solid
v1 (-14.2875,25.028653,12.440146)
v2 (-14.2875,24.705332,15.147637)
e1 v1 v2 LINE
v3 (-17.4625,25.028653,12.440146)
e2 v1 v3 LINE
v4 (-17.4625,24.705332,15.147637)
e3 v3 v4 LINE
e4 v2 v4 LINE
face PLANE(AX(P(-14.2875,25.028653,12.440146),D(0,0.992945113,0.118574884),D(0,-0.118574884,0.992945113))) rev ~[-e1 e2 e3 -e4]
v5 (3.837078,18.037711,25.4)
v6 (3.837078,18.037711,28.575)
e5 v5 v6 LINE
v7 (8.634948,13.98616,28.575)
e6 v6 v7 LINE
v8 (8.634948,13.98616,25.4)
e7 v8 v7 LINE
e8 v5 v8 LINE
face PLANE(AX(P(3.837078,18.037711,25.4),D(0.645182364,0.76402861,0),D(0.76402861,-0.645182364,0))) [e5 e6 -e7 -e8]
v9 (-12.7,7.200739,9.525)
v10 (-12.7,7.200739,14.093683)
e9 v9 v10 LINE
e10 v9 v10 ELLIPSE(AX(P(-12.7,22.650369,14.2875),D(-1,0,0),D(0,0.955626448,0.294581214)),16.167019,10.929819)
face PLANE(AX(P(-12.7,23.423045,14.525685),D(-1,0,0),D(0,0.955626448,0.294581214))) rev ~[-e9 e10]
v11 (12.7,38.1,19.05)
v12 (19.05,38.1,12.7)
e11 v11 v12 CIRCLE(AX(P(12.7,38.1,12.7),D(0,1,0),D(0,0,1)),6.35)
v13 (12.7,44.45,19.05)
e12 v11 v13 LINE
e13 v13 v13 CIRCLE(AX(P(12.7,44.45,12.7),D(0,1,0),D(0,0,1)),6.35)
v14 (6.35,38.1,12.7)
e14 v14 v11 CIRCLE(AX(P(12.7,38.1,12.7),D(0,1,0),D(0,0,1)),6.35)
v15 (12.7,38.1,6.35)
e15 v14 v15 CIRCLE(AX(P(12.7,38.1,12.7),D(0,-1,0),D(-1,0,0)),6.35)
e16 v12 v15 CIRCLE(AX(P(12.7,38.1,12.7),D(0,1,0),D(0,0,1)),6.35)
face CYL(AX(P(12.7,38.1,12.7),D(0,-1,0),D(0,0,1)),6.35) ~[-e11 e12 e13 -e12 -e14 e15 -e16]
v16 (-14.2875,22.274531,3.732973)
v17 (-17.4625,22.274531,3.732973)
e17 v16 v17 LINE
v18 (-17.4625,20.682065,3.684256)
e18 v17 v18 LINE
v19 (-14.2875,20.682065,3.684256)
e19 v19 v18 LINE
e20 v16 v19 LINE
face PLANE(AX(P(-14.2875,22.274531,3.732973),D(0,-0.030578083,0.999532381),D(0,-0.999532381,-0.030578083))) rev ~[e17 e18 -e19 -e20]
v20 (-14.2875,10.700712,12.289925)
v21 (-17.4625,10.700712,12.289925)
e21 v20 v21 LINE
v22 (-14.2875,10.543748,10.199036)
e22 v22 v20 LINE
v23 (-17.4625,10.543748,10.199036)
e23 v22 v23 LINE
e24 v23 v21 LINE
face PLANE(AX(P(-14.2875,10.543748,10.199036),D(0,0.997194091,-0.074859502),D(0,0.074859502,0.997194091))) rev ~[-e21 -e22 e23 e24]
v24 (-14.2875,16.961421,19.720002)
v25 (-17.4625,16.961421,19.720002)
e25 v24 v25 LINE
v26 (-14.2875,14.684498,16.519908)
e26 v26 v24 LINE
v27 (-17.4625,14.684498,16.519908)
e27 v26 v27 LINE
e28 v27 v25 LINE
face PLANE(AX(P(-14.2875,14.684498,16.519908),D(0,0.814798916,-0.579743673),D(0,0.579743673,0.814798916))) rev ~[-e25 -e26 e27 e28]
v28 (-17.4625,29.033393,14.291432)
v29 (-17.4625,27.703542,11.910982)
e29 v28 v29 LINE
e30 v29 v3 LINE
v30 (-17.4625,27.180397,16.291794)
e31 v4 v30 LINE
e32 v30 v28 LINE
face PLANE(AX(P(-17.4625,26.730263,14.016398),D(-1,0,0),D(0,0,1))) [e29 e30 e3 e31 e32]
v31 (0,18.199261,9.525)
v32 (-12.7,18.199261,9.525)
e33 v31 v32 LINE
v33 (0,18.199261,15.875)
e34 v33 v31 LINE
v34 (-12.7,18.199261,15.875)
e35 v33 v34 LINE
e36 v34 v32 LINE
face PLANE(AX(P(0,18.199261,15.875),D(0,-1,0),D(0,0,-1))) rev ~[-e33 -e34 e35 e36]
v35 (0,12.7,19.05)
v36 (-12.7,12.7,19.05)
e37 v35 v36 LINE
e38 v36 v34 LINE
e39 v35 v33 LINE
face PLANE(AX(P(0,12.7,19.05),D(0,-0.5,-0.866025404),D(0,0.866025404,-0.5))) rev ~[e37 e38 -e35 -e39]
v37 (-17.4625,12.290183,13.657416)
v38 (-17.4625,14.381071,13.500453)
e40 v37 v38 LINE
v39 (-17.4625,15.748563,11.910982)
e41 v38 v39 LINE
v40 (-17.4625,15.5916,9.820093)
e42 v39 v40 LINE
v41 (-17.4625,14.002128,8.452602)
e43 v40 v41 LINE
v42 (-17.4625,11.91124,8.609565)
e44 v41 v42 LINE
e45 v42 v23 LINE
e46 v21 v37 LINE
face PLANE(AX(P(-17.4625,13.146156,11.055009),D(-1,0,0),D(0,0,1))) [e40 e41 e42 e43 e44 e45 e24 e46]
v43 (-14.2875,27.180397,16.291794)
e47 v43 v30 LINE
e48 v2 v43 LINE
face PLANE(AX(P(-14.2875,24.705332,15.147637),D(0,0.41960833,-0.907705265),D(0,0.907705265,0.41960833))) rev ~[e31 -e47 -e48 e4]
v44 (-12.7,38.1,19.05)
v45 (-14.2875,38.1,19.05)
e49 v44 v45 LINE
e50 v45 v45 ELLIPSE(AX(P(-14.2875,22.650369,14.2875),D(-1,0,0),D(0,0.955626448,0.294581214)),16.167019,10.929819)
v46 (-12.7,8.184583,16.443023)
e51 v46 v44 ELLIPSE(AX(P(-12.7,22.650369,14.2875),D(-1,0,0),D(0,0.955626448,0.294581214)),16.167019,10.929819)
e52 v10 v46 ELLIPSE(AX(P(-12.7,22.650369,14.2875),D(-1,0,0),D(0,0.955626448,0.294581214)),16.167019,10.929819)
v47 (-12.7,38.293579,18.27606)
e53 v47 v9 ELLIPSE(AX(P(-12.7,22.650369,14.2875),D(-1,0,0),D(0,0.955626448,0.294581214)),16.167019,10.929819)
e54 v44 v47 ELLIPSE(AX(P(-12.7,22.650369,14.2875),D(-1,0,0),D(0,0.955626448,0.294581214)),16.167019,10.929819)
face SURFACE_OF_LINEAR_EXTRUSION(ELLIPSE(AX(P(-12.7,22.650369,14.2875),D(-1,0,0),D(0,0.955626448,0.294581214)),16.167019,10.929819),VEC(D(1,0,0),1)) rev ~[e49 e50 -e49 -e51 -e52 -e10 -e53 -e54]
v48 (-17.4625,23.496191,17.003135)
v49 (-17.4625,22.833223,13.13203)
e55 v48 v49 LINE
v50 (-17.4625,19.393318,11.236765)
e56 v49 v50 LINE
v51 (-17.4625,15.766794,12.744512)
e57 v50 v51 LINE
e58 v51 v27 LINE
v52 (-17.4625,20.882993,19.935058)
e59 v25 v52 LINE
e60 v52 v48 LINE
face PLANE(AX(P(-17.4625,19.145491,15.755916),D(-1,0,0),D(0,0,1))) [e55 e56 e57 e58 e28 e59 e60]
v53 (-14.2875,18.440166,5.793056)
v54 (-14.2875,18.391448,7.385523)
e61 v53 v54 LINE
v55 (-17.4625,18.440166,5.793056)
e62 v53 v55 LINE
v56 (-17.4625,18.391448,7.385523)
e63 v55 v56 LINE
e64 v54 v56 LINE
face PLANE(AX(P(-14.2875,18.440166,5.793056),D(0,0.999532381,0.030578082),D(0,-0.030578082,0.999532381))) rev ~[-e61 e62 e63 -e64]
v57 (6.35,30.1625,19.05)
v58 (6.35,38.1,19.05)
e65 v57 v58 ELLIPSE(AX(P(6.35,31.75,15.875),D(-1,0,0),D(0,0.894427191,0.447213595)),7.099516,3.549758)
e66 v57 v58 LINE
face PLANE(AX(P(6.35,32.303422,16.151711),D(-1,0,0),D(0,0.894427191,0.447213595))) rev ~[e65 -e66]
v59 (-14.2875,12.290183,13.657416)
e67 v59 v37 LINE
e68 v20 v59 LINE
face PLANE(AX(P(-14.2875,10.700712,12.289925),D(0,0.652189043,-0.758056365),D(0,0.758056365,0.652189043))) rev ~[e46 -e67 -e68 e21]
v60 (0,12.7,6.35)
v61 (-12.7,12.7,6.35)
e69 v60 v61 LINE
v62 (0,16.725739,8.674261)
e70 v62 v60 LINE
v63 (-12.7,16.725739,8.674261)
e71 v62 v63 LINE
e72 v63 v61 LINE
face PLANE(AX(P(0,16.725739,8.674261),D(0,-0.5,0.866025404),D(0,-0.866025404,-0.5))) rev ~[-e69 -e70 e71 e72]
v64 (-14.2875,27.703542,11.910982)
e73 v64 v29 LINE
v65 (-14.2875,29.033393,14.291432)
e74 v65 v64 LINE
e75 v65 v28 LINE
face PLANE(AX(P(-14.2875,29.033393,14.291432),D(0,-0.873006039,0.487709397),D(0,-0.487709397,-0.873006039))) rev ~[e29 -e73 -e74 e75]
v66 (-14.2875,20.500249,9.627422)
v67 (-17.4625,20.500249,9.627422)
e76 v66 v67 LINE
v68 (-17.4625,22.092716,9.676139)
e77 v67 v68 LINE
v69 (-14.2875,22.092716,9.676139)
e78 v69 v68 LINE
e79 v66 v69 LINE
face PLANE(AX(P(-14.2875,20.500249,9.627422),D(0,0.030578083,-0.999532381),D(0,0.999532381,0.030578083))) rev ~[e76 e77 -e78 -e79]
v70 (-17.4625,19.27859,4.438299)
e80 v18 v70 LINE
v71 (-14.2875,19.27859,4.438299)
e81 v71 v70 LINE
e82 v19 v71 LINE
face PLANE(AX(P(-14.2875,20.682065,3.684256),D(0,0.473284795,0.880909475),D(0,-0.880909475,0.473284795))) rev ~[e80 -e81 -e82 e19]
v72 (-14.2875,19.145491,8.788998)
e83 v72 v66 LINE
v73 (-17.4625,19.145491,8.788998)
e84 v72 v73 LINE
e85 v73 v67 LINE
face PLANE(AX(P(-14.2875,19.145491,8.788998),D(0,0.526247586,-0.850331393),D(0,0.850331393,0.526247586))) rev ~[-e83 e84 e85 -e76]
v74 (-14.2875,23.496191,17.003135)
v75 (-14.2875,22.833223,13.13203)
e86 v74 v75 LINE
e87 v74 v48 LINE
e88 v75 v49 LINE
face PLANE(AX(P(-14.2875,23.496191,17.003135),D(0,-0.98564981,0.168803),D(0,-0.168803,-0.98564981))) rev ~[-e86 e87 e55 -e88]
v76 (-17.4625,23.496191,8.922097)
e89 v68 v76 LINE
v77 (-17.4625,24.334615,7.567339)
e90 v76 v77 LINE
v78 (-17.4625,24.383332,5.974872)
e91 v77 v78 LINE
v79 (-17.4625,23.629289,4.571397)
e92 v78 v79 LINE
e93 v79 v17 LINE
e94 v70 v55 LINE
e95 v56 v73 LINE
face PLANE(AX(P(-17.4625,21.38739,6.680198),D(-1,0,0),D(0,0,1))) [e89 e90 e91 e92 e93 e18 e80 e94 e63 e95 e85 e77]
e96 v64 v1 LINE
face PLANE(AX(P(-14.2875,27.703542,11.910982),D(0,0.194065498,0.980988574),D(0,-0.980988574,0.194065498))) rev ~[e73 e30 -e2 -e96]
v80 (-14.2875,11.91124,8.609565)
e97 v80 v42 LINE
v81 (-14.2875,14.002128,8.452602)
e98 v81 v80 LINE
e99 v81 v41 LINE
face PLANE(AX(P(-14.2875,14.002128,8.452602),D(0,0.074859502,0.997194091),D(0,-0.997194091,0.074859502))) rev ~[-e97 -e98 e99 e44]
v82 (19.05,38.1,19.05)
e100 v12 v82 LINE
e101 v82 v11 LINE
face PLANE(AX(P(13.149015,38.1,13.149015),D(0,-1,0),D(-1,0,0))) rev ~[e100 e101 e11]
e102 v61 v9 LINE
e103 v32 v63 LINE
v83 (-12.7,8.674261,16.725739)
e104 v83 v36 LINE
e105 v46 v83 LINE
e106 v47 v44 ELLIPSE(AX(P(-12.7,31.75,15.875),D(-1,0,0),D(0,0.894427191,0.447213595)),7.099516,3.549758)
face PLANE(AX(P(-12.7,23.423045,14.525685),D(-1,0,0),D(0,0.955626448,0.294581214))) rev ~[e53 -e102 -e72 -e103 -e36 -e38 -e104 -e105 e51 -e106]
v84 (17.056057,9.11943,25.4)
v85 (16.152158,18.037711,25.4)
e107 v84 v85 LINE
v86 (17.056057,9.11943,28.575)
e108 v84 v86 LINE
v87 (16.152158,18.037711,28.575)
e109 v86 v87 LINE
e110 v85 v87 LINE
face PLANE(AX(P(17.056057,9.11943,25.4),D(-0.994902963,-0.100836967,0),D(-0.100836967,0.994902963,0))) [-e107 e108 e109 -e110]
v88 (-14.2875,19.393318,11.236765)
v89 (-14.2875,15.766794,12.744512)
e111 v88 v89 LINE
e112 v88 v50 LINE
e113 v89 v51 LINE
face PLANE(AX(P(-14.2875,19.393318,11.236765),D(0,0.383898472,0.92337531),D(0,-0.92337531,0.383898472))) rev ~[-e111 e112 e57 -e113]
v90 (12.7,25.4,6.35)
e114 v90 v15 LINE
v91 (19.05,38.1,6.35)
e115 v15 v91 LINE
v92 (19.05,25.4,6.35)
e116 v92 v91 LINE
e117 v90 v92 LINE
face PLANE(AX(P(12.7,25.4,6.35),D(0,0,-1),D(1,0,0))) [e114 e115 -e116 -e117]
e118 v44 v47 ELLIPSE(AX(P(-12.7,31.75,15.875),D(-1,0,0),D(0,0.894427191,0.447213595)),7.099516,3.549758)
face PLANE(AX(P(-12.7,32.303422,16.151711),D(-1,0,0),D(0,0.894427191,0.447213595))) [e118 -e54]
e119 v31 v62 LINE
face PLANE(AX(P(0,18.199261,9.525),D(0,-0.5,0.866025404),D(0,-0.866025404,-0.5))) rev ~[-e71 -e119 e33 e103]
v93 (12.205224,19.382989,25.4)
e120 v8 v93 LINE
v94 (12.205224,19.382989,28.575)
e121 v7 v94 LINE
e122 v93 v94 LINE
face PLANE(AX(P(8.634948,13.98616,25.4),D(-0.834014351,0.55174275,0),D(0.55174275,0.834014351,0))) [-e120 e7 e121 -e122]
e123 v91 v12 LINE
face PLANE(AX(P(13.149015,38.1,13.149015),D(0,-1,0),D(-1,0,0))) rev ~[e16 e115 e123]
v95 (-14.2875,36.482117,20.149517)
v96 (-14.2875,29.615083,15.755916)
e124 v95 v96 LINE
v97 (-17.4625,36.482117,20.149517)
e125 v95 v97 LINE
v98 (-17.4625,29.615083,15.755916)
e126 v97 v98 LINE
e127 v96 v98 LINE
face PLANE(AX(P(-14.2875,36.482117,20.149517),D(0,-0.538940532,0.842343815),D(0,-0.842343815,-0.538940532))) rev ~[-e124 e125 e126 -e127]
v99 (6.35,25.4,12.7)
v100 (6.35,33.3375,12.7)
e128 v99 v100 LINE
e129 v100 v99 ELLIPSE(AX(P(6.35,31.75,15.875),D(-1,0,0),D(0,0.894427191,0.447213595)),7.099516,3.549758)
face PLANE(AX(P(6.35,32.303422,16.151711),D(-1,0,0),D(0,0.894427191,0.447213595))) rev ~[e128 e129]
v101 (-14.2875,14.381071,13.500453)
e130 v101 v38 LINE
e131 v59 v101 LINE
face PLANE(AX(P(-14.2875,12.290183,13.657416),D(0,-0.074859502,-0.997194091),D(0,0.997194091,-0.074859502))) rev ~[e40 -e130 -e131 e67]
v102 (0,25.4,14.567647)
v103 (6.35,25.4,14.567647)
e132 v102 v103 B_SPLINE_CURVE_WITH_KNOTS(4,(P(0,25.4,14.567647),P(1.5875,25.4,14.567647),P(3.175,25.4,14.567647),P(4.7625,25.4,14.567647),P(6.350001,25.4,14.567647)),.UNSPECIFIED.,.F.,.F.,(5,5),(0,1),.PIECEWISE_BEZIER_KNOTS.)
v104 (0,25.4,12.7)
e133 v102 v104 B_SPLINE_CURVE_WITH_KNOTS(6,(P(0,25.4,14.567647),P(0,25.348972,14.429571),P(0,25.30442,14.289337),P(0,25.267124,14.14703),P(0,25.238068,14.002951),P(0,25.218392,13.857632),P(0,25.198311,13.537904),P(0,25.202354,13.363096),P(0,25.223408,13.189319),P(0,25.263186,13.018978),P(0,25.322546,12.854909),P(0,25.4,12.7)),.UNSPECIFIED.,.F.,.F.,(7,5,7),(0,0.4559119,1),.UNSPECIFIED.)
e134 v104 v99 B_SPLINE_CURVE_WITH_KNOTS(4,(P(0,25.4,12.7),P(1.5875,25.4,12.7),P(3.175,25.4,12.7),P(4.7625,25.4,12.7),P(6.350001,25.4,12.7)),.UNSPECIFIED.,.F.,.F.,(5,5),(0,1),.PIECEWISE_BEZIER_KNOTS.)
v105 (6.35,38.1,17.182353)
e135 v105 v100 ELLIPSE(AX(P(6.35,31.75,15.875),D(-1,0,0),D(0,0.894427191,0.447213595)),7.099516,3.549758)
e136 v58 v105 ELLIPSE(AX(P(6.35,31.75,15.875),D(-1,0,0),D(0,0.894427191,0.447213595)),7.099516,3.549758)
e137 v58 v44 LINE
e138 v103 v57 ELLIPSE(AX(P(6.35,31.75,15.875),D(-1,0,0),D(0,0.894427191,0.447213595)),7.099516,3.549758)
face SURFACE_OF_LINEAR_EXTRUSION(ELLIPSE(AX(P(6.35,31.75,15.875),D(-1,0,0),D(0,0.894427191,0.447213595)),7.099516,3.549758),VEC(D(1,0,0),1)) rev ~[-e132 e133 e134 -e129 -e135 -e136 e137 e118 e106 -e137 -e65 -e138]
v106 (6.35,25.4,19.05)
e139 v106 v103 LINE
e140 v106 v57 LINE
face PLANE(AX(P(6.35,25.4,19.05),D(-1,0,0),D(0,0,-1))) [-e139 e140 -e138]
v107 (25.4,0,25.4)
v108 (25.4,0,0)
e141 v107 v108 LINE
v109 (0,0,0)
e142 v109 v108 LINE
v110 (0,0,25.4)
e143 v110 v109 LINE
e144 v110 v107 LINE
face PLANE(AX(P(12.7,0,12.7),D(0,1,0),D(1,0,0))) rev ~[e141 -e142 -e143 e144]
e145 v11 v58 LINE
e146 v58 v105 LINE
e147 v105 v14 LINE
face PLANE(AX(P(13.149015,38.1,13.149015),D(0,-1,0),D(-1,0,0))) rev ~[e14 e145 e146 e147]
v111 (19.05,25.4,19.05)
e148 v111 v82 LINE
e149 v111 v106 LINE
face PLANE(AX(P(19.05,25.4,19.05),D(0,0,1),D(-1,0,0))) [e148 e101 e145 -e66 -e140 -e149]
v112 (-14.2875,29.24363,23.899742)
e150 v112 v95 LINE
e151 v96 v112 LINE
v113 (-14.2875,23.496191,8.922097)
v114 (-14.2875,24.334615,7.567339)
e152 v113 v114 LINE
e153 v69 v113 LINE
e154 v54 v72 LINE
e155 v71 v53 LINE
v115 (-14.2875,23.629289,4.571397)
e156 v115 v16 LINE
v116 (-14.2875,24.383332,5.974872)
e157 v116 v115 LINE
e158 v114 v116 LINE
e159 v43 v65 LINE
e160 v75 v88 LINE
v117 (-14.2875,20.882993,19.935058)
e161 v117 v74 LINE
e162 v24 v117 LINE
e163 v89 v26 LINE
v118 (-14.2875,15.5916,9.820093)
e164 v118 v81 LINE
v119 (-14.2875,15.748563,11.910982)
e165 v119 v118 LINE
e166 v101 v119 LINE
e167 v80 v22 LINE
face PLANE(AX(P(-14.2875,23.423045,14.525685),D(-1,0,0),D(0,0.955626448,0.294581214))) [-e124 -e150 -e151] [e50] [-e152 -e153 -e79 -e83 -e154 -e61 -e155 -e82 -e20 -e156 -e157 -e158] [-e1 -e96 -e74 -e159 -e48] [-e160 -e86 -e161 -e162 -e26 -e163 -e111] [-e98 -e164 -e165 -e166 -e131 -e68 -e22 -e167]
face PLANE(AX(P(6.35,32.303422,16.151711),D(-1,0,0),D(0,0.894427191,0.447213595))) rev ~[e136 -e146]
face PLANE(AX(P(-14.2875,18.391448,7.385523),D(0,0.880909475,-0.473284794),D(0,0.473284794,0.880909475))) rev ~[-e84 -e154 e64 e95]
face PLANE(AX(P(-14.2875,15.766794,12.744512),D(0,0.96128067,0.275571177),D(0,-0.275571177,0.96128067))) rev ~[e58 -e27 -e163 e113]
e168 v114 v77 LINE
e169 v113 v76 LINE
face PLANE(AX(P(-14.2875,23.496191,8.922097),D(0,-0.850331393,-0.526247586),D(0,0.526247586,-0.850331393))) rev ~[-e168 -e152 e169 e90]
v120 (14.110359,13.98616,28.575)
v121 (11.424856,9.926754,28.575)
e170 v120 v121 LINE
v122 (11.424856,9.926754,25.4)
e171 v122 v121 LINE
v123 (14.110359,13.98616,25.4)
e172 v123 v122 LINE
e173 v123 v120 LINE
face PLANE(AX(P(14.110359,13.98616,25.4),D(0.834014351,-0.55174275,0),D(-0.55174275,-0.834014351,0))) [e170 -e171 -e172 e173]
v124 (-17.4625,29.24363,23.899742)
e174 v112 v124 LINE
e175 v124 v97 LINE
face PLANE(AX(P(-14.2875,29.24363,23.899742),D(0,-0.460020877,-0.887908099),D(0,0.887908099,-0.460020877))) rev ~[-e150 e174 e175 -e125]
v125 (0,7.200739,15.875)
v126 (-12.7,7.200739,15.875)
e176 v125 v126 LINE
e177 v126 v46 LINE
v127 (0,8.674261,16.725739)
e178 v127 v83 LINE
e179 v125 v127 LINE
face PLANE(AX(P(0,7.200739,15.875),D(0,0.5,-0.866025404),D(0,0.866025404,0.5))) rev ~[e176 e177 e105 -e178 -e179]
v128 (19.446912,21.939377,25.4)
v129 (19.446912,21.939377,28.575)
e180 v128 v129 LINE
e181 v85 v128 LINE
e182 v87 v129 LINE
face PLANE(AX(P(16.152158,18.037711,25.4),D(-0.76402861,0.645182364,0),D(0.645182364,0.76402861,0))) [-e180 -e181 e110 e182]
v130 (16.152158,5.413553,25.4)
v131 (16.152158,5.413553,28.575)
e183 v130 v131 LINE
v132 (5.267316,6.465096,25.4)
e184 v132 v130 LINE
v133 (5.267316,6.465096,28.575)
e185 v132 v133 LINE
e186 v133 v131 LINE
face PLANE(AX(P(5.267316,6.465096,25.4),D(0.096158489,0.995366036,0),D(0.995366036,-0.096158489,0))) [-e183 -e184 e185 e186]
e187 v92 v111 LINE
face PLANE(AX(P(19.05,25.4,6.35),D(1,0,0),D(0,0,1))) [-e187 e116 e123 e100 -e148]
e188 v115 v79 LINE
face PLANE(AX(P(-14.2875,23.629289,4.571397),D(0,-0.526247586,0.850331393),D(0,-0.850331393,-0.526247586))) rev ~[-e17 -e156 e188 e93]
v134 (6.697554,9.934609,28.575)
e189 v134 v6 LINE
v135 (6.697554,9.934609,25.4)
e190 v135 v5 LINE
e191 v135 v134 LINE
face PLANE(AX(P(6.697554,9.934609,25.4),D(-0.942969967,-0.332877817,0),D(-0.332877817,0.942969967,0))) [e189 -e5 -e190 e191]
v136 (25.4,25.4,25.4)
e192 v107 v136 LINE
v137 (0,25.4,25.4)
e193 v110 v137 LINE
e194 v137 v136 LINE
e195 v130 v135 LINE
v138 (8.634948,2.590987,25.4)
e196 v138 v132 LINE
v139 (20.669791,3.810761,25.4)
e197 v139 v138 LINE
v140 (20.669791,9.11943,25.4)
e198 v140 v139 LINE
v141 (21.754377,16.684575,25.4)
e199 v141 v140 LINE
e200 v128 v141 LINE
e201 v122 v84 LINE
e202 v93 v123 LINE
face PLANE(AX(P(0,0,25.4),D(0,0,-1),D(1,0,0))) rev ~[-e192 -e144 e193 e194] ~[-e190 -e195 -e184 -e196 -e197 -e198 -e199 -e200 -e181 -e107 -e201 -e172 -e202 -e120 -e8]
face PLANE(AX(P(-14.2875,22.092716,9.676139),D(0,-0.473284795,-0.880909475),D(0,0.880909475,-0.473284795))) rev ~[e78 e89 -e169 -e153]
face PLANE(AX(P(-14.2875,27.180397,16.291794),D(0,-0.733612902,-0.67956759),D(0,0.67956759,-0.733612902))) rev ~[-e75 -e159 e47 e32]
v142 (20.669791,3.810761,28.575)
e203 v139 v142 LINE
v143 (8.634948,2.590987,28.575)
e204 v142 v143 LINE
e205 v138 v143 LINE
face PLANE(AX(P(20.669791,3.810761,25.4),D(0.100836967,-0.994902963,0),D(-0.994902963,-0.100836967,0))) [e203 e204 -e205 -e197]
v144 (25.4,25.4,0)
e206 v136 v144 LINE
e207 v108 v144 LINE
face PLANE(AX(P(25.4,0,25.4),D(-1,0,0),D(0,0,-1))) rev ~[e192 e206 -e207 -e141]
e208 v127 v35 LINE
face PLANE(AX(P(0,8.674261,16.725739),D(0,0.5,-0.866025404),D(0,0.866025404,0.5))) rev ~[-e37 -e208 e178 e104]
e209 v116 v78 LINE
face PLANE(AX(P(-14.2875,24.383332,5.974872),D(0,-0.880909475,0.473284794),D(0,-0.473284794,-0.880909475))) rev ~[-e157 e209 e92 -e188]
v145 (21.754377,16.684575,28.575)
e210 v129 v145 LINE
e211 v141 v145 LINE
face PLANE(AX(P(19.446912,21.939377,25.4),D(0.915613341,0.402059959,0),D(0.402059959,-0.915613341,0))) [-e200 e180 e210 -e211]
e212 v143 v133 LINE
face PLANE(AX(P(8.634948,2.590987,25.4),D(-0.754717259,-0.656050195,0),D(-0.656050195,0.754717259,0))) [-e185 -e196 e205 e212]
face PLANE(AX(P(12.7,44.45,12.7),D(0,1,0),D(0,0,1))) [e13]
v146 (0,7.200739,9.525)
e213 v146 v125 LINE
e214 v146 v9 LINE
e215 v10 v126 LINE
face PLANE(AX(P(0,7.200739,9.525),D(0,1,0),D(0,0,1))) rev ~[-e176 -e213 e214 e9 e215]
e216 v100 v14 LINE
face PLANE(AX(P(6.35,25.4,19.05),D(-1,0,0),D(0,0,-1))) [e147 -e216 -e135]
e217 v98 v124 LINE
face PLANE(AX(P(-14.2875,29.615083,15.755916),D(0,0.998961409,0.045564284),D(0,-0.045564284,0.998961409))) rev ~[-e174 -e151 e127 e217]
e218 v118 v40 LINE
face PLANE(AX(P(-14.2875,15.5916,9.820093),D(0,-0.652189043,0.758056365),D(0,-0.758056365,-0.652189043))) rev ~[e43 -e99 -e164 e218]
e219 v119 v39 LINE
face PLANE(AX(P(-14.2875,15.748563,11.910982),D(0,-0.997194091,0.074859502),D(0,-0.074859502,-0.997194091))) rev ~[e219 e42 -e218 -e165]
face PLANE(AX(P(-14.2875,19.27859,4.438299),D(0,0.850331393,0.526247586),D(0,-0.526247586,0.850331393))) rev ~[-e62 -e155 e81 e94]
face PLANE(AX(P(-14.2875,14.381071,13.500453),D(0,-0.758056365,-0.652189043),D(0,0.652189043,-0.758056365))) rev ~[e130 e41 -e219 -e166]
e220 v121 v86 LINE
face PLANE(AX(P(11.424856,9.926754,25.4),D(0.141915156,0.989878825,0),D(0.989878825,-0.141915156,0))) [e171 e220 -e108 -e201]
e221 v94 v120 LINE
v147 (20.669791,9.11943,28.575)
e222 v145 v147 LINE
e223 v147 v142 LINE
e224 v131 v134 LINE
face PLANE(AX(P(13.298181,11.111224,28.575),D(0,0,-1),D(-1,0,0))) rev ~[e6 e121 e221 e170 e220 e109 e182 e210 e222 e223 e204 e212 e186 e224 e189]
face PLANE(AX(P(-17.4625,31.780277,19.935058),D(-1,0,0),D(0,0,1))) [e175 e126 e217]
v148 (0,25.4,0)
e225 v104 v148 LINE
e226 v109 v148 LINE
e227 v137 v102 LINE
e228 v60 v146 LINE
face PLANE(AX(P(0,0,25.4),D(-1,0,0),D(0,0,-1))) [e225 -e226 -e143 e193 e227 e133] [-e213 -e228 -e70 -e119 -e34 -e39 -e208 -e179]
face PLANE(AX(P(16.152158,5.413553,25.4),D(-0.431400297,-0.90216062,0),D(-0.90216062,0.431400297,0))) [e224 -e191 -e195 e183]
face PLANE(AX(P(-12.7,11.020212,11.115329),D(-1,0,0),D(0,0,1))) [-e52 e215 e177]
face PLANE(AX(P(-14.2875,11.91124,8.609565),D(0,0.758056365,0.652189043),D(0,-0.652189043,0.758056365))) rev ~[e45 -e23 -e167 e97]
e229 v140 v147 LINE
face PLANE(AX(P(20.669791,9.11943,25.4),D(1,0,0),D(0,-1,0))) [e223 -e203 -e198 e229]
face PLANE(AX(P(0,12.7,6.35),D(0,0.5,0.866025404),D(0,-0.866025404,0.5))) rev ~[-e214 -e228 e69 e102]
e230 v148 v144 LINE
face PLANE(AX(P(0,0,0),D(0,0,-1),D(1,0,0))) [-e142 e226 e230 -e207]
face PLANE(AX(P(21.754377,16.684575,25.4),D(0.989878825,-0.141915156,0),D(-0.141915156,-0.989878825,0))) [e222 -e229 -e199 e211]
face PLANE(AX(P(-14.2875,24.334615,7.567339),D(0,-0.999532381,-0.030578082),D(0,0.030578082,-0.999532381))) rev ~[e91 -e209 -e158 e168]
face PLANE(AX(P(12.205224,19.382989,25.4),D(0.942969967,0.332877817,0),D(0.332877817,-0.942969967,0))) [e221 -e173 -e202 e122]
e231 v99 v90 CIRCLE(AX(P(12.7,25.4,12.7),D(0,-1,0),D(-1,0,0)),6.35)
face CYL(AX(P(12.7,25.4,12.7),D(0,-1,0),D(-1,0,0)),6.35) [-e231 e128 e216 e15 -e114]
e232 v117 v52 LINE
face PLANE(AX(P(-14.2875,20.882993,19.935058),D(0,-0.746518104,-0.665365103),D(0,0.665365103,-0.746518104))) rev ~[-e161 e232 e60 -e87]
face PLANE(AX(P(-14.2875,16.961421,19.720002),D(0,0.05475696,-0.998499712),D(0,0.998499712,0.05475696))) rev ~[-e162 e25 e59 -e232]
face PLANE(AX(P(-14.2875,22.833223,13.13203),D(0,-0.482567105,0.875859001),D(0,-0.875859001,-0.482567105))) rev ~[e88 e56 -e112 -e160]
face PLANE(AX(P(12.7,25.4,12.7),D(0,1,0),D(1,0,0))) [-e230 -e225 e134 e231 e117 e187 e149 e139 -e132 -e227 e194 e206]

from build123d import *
from build123d.topology import SkipClean

# Parameters (mm, degrees)
SKETCH1_W           = 25.4
SKETCH1_H           = 25.4
BOSS_EXTRUDE1_DEPTH = 25.4
BOSS_EXTRUDE2_DEPTH = 12.7
SKETCH3_R           = 6.35
BOSS_EXTRUDE3_DEPTH = 6.35
SKETCH4_RX          = 7.099515829
SKETCH4_RY          = 3.549757914
BOSS_EXTRUDE4_DEPTH = 19.05
BOSS_EXTRUDE5_DEPTH = 12.7
SKETCH6_RX          = 16.167018701
SKETCH6_RY          = 10.929819125
BOSS_EXTRUDE6_DEPTH = 1.5875
BOSS_EXTRUDE7_DEPTH = 3.175
BOSS_EXTRUDE8_DEPTH = 3.175


with BuildPart() as part:
    # Sketch1 → Boss-Extrude1 (new body)
    with BuildSketch(Plane(origin=(0, 0, 0), x_dir=(1, 0, 0), z_dir=(0, 1, 0))):
        with Locations((12.7, -12.7)):
            Rectangle(SKETCH1_W, SKETCH1_H)
    extrude(amount=BOSS_EXTRUDE1_DEPTH)

    # Sketch2 → Boss-Extrude2 (add)
    with BuildSketch(Plane(origin=(0, 25.4, 0), x_dir=(1, 0, 0), z_dir=(0, 1, 0))):
        with BuildLine():
            ThreePointArc((6.35, -12.7), (8.209871939, -8.209871939), (12.7, -6.35))
            Line((12.7, -6.35), (19.05, -6.35))
            Line((19.05, -6.35), (19.05, -19.05))
            Line((19.05, -19.05), (6.35, -19.05))
            Line((6.35, -19.05), (6.35, -12.7))
        make_face()
    extrude(amount=BOSS_EXTRUDE2_DEPTH)

    # Sketch3 → Boss-Extrude3 (add)
    with SkipClean():  # keep this step's faces unmerged: merging them makes the solid invalid here
        with BuildSketch(Plane(origin=(0, 38.1, 0), x_dir=(1, 0, 0), z_dir=(0, 1, 0))):
            with Locations(Location((12.7, -12.7, 0), (0, 0, 270))):  # turned: the seam where the file's is
                Circle(SKETCH3_R)
        extrude(amount=BOSS_EXTRUDE3_DEPTH)

    # Sketch4 → Boss-Extrude4 (add)
    with SkipClean():  # keep this step's faces unmerged: merging them makes the solid invalid here
        with BuildSketch(Plane.ZY.offset(-6.35)):
            with Locations(Location((15.875, 31.75), (0, 0, 63.434948823))):
                Ellipse(SKETCH4_RX, SKETCH4_RY)
        extrude(amount=BOSS_EXTRUDE4_DEPTH)

    # Sketch5 → Boss-Extrude5 (add)
    with SkipClean():  # keep this step's faces unmerged: merging them makes the solid invalid here
        with BuildSketch(Plane.ZY):
            Polygon((9.525, 18.199261314), (8.674261314, 16.725738686), (16.725738686, 8.674261314), (19.05, 12.7), (15.875, 18.199261314), align=None)
            Polygon((16.725738686, 8.674261314), (8.674261314, 16.725738686), (6.35, 12.7), (9.525, 7.200738686), (15.875, 7.200738686), align=None)
        extrude(amount=BOSS_EXTRUDE5_DEPTH)

    # Sketch6 → Boss-Extrude6 (add)
    with SkipClean():  # keep this step's faces unmerged: merging them makes the solid invalid here
        with BuildSketch(Plane.ZY.offset(12.7)):
            with Locations(Location((14.2875, 22.650369343), (0, 0, 72.867573148))):
                Ellipse(SKETCH6_RX, SKETCH6_RY)
        extrude(amount=BOSS_EXTRUDE6_DEPTH)

    # Sketch7 → Boss-Extrude7 (add)
    with SkipClean():  # keep this step's faces unmerged: merging them makes the solid invalid here
        with BuildSketch(Plane.ZY.offset(14.2875)):
            Polygon((4.571396825, 23.629289358), (3.732973033, 22.274531466), (3.684255675, 20.682064819), (4.43829853, 19.27858957), (5.793056422, 18.440165778), (7.385523068, 18.391448421), (8.788998317, 19.145491275), (9.627422109, 20.500249167), (9.676139467, 22.092715813), (8.922096612, 23.496191063), (7.56733872, 24.334614855), (5.974872074, 24.383332212), align=None)
            Polygon((9.820093329, 15.591599788), (8.452601667, 14.002128498), (8.609564967, 11.911239943), (10.199036257, 10.54374828), (12.289924812, 10.70071158), (13.657416475, 12.290182871), (13.500453174, 14.381071426), (11.910981884, 15.748563088), align=None)
            Polygon((11.910981884, 27.703541882), (12.440145656, 25.02865315), (15.147636613, 24.705331728), (16.291794276, 27.18039683), (14.291431644, 29.033392611), align=None)
            Polygon((17.003134649, 23.496191063), (13.132029933, 22.83322326), (11.236764719, 19.393318057), (12.744512372, 15.766794232), (16.519908155, 14.684498193), (19.72000204, 16.961420933), (19.935058062, 20.882993187), align=None)
            Polygon((15.755915704, 29.615083354), (23.899741704, 29.243629963), (20.149516777, 36.482116859), align=None)
        extrude(amount=BOSS_EXTRUDE7_DEPTH)

    # Sketch8 → Boss-Extrude8 (add)
    with SkipClean():  # keep this step's faces unmerged: merging them makes the solid invalid here
        with BuildSketch(Plane.XY.offset(25.4)):
            Polygon((16.152157776, 5.413552829), (6.697554447, 9.934608829), (3.837078483, 18.037710904), (8.634948169, 13.986159866), (12.205224218, 19.382989208), (14.110358878, 13.986159866), (11.424856112, 9.926753835), (17.056057389, 9.119429964), (16.152157776, 18.037710904), (19.446911767, 21.939377241), (21.754376792, 16.684574537), (20.669790839, 9.119429964), (20.669790839, 3.810761102), (8.634948169, 2.590986831), (5.267316465, 6.465095533), align=None)
        extrude(amount=BOSS_EXTRUDE8_DEPTH)


solid = part.part
